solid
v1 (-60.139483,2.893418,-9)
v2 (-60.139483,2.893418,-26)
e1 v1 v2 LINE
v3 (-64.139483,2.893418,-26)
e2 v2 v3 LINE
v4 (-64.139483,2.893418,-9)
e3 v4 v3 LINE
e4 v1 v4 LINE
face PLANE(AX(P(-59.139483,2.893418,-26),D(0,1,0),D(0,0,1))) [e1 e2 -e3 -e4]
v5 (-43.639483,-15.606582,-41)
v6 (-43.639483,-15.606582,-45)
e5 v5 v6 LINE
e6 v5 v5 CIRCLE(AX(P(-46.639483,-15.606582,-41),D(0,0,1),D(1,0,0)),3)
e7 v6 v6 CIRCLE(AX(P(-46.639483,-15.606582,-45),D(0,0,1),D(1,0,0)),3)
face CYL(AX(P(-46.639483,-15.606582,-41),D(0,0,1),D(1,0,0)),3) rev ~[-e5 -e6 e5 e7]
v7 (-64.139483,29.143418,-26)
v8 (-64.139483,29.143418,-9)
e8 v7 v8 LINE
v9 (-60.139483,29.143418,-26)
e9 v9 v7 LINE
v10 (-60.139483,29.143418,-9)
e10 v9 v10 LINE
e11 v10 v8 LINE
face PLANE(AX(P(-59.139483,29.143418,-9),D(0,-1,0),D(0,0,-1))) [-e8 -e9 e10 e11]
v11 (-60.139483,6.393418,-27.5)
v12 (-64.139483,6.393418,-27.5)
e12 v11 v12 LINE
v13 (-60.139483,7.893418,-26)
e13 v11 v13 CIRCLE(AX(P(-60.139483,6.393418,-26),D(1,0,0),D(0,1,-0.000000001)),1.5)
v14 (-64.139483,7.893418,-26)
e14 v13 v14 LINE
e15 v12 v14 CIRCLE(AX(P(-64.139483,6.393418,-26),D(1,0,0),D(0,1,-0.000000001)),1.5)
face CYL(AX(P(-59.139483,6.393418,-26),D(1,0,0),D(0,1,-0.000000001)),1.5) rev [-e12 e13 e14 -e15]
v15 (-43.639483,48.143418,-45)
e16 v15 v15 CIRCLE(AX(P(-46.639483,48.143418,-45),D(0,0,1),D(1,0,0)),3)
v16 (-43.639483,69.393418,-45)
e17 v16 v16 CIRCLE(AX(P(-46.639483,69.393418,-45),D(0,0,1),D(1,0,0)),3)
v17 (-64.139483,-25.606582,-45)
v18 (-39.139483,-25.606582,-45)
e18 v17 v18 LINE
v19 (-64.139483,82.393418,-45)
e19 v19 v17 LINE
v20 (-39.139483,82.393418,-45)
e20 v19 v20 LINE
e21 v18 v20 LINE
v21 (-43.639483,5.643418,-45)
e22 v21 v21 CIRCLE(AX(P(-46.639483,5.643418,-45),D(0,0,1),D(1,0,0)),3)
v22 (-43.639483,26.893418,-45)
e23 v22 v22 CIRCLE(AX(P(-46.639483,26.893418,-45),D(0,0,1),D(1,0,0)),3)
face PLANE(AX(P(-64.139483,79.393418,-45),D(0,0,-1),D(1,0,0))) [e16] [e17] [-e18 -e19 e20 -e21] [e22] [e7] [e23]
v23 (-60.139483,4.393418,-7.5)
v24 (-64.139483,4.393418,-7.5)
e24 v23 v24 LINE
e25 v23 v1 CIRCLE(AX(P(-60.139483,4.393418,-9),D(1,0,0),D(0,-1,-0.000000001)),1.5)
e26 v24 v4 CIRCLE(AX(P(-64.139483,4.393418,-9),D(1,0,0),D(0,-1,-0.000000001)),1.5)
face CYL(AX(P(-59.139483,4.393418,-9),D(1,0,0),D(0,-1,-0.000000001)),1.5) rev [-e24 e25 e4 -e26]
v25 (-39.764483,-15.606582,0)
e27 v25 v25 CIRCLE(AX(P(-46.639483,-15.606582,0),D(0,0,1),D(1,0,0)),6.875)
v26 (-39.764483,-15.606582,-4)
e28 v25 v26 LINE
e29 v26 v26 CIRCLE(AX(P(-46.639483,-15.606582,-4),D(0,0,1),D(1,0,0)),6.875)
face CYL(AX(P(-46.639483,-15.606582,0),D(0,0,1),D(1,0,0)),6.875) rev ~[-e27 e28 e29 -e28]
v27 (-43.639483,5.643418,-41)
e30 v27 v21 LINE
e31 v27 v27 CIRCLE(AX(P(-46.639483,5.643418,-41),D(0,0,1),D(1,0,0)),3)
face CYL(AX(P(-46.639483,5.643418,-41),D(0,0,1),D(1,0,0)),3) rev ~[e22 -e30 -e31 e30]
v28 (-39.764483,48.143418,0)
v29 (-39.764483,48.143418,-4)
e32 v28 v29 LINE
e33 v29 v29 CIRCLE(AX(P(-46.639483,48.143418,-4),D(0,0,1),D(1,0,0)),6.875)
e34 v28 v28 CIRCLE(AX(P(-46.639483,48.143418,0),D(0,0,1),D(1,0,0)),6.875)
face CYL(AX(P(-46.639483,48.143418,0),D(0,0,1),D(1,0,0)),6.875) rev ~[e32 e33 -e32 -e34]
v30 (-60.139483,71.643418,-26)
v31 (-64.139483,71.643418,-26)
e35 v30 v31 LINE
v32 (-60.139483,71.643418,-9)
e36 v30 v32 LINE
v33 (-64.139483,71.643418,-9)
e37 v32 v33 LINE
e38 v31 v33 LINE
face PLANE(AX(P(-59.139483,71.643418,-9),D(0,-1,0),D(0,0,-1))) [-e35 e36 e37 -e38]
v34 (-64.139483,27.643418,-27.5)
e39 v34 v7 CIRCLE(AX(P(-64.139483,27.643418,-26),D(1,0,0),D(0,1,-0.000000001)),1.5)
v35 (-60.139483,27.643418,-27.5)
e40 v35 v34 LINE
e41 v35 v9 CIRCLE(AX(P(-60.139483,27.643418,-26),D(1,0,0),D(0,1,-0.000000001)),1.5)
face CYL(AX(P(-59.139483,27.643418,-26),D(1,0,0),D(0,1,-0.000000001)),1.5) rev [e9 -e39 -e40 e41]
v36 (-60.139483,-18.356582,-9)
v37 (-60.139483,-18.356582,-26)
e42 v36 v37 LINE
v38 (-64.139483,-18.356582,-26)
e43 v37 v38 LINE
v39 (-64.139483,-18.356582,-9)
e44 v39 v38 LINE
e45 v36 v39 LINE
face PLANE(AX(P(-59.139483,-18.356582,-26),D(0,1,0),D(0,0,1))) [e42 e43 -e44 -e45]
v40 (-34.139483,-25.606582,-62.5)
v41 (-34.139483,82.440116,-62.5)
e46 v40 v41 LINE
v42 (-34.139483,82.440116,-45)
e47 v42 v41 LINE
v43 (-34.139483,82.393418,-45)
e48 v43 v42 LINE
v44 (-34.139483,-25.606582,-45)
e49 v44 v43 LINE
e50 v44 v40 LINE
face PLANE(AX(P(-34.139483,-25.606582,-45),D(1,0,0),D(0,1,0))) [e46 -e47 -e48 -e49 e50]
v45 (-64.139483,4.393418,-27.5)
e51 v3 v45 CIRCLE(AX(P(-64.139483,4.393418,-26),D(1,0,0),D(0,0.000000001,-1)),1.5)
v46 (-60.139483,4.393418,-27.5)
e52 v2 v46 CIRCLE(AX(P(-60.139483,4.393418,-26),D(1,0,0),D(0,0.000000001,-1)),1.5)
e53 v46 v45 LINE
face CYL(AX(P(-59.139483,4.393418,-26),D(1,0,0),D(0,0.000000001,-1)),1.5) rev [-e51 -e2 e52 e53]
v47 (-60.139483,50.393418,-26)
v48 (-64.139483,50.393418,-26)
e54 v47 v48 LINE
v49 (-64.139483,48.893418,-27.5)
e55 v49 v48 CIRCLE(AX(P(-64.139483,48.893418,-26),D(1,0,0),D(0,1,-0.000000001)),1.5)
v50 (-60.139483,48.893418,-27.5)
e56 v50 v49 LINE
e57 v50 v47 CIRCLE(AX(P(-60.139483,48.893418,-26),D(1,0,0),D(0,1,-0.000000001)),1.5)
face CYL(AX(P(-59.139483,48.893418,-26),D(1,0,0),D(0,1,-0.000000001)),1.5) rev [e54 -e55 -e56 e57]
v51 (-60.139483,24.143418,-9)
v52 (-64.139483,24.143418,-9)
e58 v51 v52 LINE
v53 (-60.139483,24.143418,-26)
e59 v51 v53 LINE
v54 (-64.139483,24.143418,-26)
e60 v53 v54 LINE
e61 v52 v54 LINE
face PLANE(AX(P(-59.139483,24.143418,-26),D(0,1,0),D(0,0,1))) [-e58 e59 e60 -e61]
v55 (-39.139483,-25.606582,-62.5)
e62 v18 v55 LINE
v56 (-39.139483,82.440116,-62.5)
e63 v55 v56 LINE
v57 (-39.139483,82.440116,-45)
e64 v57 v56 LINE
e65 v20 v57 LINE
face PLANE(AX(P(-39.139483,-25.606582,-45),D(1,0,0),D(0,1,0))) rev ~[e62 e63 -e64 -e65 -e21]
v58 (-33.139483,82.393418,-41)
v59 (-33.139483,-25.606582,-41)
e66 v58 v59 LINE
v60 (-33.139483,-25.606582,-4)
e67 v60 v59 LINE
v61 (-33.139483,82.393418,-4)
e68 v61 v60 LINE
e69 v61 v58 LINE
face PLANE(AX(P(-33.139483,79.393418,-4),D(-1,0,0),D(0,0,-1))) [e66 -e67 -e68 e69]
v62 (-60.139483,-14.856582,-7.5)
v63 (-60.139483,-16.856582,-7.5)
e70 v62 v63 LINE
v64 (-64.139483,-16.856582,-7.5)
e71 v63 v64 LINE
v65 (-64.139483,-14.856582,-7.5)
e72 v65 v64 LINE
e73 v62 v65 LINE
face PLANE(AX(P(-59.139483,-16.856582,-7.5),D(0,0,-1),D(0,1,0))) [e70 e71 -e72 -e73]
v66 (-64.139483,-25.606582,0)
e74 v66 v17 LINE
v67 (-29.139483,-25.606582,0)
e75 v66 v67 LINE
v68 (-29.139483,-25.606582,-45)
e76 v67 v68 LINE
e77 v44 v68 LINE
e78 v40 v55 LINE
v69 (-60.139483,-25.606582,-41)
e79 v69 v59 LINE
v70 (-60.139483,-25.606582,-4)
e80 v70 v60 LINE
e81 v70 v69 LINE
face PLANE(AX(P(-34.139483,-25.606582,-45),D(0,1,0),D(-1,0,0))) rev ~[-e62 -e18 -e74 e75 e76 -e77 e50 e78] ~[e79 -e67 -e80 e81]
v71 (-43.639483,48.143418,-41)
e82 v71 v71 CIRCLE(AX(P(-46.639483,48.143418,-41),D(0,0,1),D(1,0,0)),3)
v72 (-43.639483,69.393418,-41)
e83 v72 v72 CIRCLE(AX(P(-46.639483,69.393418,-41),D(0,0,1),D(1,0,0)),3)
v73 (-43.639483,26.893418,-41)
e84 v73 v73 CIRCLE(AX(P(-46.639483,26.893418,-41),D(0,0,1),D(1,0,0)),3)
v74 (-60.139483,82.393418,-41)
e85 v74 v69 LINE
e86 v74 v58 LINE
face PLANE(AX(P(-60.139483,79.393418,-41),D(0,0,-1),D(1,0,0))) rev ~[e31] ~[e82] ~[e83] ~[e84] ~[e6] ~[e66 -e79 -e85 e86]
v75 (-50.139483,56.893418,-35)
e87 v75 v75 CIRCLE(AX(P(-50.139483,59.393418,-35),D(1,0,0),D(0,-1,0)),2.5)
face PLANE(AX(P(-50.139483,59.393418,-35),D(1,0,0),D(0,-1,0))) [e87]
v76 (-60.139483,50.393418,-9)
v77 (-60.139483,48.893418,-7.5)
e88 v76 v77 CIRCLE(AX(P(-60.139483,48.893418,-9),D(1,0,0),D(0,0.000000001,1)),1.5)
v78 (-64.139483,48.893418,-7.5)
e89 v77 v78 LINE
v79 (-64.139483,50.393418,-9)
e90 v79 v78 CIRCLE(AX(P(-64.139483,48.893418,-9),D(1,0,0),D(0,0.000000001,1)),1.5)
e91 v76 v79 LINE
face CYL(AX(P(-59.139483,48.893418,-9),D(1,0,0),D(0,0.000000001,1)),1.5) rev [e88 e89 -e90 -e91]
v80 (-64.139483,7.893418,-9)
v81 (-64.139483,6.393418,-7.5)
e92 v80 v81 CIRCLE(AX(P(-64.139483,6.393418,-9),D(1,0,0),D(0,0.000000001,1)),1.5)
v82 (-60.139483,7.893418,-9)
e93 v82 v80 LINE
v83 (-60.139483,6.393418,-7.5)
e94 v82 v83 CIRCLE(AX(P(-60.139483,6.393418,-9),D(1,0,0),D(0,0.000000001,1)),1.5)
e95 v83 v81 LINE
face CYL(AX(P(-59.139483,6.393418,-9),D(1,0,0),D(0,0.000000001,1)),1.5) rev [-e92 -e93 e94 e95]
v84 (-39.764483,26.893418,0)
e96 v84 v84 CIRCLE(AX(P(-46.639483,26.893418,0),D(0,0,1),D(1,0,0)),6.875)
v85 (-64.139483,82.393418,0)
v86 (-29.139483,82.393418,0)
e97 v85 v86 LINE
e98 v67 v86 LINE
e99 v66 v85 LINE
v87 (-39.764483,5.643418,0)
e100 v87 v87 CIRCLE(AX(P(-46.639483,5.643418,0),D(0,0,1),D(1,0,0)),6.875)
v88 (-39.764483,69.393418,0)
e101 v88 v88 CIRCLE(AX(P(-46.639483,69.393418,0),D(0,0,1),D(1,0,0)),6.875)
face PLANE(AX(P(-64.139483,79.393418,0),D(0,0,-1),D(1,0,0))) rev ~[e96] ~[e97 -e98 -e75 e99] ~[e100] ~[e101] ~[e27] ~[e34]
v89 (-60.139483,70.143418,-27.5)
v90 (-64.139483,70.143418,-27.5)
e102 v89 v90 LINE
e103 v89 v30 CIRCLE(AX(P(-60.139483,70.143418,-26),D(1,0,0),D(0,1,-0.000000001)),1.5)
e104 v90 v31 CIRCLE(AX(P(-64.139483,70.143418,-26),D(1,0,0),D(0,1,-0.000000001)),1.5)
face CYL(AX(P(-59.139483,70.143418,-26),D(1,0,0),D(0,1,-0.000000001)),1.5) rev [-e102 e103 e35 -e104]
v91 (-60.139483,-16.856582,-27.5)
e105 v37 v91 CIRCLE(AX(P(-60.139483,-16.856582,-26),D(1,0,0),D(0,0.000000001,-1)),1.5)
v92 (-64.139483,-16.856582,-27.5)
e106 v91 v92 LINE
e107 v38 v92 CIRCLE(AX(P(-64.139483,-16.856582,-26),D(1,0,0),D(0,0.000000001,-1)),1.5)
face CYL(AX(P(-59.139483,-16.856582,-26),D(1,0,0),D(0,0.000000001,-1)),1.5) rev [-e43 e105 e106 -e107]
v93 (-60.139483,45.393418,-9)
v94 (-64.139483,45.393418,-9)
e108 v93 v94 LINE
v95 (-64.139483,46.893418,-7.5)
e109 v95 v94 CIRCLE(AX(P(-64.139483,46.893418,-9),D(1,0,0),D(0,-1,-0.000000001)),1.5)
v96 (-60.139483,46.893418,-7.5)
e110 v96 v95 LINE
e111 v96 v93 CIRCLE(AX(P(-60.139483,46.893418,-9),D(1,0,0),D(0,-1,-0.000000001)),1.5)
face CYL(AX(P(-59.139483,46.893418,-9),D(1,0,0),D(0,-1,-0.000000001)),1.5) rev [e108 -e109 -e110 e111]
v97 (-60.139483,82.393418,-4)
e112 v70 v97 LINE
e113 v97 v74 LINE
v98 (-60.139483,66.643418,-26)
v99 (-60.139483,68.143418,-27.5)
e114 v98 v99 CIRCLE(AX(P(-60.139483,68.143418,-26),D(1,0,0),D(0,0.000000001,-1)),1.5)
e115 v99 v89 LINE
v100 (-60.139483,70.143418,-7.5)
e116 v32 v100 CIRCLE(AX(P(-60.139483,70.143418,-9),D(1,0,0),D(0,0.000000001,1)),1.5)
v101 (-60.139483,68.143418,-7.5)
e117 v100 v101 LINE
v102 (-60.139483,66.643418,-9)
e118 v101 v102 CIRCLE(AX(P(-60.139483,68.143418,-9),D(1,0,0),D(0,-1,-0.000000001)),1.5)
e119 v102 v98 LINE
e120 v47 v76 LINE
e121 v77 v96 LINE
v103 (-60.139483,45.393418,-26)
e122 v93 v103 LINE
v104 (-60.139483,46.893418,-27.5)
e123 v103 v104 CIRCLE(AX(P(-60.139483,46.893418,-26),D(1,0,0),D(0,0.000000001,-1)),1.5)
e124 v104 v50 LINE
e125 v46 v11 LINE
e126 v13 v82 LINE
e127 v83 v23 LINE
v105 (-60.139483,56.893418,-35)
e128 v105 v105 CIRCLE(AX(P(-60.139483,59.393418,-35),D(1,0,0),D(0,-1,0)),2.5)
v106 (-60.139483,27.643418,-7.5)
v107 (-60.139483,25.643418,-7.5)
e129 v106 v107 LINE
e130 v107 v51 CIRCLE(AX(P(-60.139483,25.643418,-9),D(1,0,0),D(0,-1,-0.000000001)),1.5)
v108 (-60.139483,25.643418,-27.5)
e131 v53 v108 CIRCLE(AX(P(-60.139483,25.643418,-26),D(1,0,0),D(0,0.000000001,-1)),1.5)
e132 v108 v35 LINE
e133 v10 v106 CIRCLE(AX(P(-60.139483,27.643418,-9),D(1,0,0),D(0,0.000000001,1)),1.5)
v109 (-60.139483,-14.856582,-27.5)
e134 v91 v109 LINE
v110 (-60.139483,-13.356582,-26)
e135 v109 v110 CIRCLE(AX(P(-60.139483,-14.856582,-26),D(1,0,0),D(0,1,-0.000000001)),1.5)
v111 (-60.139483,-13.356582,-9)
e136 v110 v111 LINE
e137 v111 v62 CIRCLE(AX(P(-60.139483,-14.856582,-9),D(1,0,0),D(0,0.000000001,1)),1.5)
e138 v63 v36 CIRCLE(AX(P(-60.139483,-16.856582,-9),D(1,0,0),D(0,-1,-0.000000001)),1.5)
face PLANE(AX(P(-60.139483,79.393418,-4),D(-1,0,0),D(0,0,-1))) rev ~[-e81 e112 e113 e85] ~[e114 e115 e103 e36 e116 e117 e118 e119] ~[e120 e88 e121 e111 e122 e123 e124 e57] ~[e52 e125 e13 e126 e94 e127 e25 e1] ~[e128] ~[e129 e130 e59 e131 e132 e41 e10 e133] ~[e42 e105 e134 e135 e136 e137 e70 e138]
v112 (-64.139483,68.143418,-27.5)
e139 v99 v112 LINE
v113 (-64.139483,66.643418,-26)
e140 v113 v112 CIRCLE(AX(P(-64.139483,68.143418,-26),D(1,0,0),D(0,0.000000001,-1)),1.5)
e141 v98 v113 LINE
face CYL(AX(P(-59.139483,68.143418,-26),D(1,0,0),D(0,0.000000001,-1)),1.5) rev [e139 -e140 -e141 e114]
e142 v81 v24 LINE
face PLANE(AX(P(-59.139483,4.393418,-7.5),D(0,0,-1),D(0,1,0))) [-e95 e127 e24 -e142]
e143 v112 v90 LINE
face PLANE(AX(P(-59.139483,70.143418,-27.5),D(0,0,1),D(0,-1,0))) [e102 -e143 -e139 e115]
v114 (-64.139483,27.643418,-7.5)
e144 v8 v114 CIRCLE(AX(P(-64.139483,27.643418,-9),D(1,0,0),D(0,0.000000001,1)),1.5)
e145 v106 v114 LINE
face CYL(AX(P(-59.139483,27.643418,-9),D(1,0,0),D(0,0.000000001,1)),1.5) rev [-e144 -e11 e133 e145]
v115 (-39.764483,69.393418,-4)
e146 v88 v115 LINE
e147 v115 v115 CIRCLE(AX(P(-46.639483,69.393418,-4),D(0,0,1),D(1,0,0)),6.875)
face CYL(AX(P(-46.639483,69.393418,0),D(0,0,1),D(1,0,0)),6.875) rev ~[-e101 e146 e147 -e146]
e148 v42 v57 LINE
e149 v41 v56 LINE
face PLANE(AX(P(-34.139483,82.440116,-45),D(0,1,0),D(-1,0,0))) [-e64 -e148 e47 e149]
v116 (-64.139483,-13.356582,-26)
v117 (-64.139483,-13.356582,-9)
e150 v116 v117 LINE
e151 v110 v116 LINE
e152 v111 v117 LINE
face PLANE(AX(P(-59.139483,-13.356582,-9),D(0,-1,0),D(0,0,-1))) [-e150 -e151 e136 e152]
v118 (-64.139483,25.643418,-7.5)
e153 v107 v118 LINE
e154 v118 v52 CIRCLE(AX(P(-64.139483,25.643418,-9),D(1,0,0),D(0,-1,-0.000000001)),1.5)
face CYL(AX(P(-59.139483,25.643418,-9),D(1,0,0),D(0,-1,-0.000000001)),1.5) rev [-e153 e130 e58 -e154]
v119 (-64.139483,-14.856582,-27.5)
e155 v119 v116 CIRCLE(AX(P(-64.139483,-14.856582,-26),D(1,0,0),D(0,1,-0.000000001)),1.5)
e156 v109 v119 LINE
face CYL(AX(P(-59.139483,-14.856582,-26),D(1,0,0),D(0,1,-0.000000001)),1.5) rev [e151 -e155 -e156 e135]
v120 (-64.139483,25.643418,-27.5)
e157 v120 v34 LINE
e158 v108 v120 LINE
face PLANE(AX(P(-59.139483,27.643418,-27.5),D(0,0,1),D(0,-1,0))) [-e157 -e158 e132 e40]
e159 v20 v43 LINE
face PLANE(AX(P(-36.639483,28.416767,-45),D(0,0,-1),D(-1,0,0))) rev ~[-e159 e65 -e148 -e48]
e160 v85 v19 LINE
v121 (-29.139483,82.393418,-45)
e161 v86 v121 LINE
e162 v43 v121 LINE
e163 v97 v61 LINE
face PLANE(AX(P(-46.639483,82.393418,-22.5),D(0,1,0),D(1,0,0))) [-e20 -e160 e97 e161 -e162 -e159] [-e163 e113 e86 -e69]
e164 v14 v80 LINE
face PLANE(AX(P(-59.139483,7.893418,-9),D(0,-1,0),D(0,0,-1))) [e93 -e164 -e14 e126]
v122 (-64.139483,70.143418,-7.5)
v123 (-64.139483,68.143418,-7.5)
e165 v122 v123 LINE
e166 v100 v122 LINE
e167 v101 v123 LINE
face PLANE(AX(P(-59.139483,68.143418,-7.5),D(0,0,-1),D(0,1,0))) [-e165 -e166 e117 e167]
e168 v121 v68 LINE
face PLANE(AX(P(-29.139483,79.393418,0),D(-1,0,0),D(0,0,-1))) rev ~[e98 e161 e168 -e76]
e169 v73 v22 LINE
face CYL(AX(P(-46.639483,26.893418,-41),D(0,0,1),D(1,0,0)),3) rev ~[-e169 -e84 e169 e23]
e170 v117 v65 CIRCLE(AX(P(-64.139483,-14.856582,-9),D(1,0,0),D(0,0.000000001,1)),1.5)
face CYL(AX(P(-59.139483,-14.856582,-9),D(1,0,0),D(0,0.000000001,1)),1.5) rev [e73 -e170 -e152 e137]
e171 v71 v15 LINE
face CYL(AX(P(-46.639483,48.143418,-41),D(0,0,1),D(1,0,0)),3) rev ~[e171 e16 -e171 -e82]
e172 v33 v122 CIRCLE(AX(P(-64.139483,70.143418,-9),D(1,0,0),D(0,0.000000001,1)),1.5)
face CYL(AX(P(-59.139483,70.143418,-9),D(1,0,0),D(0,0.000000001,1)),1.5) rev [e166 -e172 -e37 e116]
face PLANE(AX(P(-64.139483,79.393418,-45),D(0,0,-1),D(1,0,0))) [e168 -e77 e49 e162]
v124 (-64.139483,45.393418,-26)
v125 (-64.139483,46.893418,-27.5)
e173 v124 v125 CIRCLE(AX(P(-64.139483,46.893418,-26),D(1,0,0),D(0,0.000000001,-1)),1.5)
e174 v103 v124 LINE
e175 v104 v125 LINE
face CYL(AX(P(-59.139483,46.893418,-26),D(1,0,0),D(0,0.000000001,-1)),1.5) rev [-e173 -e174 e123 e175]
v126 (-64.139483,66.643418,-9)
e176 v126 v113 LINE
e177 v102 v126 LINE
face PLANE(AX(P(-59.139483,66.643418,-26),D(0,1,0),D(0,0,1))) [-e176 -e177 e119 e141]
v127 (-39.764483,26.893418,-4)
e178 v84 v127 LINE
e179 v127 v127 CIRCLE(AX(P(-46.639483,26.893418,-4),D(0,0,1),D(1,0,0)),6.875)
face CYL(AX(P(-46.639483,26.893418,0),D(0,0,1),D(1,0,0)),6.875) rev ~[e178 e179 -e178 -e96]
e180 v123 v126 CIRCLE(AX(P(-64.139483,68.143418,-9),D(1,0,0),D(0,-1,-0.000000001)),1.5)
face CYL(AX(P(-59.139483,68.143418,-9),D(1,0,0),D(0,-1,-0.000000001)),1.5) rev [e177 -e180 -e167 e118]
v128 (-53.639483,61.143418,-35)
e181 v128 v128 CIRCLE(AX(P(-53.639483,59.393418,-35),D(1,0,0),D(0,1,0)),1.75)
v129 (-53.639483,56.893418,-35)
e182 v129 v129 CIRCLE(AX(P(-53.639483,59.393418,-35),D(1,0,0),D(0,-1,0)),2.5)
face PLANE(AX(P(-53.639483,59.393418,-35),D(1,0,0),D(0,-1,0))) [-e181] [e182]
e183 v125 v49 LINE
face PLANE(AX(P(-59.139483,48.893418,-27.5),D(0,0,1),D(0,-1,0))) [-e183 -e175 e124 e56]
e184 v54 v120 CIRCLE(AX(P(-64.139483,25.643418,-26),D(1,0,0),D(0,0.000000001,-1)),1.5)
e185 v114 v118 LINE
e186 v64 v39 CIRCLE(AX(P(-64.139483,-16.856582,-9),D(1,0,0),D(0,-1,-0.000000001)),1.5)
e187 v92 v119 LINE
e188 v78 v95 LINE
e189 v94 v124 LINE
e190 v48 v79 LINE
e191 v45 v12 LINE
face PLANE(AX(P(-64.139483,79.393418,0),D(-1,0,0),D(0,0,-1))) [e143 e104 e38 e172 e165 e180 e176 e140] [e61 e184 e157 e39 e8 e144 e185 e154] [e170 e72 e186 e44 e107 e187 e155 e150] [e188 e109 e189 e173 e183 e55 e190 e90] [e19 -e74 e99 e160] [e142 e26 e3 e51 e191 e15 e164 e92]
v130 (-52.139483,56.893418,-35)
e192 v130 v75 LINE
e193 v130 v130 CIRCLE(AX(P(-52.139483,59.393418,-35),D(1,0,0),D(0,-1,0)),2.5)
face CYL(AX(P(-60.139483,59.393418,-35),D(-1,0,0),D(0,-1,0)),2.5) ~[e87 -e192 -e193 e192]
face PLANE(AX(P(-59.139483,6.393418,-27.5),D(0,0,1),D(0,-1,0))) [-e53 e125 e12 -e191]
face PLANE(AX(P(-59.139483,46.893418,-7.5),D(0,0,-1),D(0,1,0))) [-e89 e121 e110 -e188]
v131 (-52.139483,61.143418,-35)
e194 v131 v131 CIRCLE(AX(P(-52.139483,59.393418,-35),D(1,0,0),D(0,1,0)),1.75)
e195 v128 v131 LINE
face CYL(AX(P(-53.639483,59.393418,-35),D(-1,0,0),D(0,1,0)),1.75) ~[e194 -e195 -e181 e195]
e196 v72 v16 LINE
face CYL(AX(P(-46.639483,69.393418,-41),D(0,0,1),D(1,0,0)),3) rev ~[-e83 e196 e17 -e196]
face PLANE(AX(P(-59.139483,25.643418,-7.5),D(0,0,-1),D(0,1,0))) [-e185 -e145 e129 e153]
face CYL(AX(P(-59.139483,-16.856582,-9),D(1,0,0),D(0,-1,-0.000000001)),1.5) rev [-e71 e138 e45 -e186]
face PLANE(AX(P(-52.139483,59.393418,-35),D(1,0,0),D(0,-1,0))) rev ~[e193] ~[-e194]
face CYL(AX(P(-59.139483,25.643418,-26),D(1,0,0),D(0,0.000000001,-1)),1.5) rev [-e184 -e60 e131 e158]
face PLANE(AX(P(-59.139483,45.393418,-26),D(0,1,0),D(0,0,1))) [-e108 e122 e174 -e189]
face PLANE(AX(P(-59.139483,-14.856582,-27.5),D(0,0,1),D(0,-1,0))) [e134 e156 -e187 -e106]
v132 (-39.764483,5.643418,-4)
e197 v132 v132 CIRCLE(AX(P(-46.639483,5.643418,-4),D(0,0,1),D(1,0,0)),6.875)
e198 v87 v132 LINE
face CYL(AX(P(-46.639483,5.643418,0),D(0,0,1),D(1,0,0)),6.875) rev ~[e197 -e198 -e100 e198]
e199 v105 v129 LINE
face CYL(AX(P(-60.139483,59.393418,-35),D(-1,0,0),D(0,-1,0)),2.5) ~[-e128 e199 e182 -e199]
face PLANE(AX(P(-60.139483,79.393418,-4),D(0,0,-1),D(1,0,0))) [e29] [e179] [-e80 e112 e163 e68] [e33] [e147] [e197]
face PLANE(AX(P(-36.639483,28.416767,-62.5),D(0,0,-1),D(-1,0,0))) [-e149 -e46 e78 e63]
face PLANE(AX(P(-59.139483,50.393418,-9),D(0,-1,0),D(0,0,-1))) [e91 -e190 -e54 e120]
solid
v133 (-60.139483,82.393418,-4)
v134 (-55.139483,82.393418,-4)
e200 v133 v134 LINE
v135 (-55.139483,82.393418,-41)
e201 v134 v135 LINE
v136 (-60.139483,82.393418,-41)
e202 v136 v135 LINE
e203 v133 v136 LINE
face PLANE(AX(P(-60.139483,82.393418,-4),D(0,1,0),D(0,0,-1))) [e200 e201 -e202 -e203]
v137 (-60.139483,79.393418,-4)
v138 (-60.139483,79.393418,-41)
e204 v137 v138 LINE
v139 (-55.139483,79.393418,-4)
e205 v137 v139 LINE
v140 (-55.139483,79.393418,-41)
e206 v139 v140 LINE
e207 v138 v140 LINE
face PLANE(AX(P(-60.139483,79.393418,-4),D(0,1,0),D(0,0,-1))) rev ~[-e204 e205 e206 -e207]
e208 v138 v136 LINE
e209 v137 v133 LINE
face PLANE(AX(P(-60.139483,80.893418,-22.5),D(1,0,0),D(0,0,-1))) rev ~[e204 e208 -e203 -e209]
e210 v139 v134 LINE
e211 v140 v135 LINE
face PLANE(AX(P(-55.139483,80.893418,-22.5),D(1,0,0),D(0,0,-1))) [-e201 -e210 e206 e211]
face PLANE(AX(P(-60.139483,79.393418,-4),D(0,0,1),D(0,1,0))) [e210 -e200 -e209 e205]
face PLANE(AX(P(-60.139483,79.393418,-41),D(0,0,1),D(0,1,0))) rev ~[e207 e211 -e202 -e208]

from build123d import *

# Parameters (mm, degrees)
SKETCH2_W           = 35
SKETCH2_H           = 105
BOSS_EXTRUDE1_DEPTH = 45
CUT_EXTRUDE1_REACH  = 133.011
SKETCH3_W           = 27
SKETCH3_H           = 37
SKETCH4_R           = 6.875
CUT_EXTRUDE2_DEPTH  = 10
SKETCH14_R          = 2.5
BOSS_EXTRUDE2_DEPTH = 10
CUT_EXTRUDE7_START  = -3.5
SKETCH15_R          = 2.5
SKETCH15_R_2        = 1.75
CUT_EXTRUDE7_DEPTH  = 1.5
SKETCH16_W          = 37
SKETCH16_H          = 3
BOSS_EXTRUDE4_DEPTH = 5
SKETCH17_W          = 35
SKETCH17_H          = 45
SKETCH17_W_2        = 27
SKETCH17_H_2        = 37
BOSS_EXTRUDE5_DEPTH = 3
SKETCH18_R          = 3
CUT_EXTRUDE8_DEPTH  = 10
CUT_EXTRUDE9_START  = -30
CUT_EXTRUDE9_DEPTH  = 10
SKETCH19_W          = 5
SKETCH19_H          = 108.046697757
BOSS_EXTRUDE6_DEPTH = 17.5


with BuildPart() as part:
    # Sketch2 → Boss-Extrude1 (new body)
    with BuildSketch(Plane.XY):
        with Locations((-46.639483312, 26.893418081)):
            Rectangle(SKETCH2_W, SKETCH2_H)
    extrude(amount=-BOSS_EXTRUDE1_DEPTH)

    # Sketch3 → Cut-Extrude1 (cut, up to next)
    with BuildSketch(Plane(origin=(0, 79.393418081, 0), x_dir=(1, 0, 0), z_dir=(0, 1, 0)), mode=Mode.PRIVATE) as cut_extrude1_sk1:
        with Locations((-46.639483312, 22.5)):
            Rectangle(SKETCH3_W, SKETCH3_H)
    cut_extrude1_tool1 = extrude(cut_extrude1_sk1.sketch, amount=-CUT_EXTRUDE1_REACH, mode=Mode.PRIVATE) & part.part
    add(cut_extrude1_tool1.solids().sort_by_distance((-46.639483, 79.393418, -22.5))[0], mode=Mode.SUBTRACT)

    # Sketch4 → Cut-Extrude2 (cut)
    with BuildSketch(Plane.XY):
        with Locations((-46.639483312, 69.393418081)):
            Circle(SKETCH4_R)
        with Locations((-46.639483312, 48.143418081)):
            Circle(SKETCH4_R)
        with Locations((-46.639483312, 26.893418081)):
            Circle(SKETCH4_R)
        with Locations((-46.639483312, 5.643418081)):
            Circle(SKETCH4_R)
        with Locations((-46.639483312, -15.606581919)):
            Circle(SKETCH4_R)
    extrude(amount=-CUT_EXTRUDE2_DEPTH, mode=Mode.SUBTRACT)

    # Sketch14 → Boss-Extrude2 (add)
    with BuildSketch(Plane(origin=(-60.139483312, 0, 0), x_dir=(0, 0, -1), z_dir=(1, 0, 0))):
        with Locations(Location((35, 59.393418081, 0), (0, 0, 270))):
            Circle(SKETCH14_R)
    extrude(amount=BOSS_EXTRUDE2_DEPTH)

    # Sketch15 → Cut-Extrude7 (cut)
    with BuildSketch(Plane(origin=(-50.139483312, 0, 0), x_dir=(0, 0, -1), z_dir=(1, 0, 0)).offset(CUT_EXTRUDE7_START)):
        with Locations(Location((35, 59.393418081, 0), (0, 0, 270))):
            Circle(SKETCH15_R)
        with Locations(Location((35, 59.393418081, 0), (0, 0, 90))):
            Circle(SKETCH15_R_2, mode=Mode.SUBTRACT)
    extrude(amount=CUT_EXTRUDE7_DEPTH, mode=Mode.SUBTRACT)

    # Sketch17 → Boss-Extrude5 (add)
    with BuildSketch(Plane(origin=(0, 79.393418081, 0), x_dir=(1, 0, 0), z_dir=(0, 1, 0))):
        with Locations((-46.639483312, 22.5)):
            Rectangle(SKETCH17_W, SKETCH17_H)
        with Locations((-46.639483312, 22.5)):
            Rectangle(SKETCH17_W_2, SKETCH17_H_2, mode=Mode.SUBTRACT)
    extrude(amount=BOSS_EXTRUDE5_DEPTH)

    # Sketch18 → Cut-Extrude8 (cut)
    with BuildSketch(Plane.XY.offset(-41)):
        with Locations((-46.639483312, 69.393418081)):
            Circle(SKETCH18_R)
        with Locations((-46.639483312, 48.143418081)):
            Circle(SKETCH18_R)
        with Locations((-46.639483312, 26.893418081)):
            Circle(SKETCH18_R)
        with Locations((-46.639483312, 5.643418081)):
            Circle(SKETCH18_R)
        with Locations((-46.639483312, -15.606581919)):
            Circle(SKETCH18_R)
    extrude(amount=-CUT_EXTRUDE8_DEPTH, mode=Mode.SUBTRACT)

    # Sketch12 → Cut-Extrude9 (cut)
    with BuildSketch(Plane(origin=(-29.139483312, 0, 0), x_dir=(0, 0, -1), z_dir=(1, 0, 0)).offset(CUT_EXTRUDE9_START)):
        with BuildLine():
            Line((9, 7.893418081), (26, 7.893418081))
            ThreePointArc((26, 7.893418081), (27.060660172, 7.454078252), (27.5, 6.393418081))
            Line((27.5, 6.393418081), (27.5, 4.393418081))
            ThreePointArc((27.5, 4.393418081), (27.060660172, 3.332757909), (26, 2.893418081))
            Line((26, 2.893418081), (9, 2.893418081))
            ThreePointArc((9, 2.893418081), (7.939339828, 3.332757909), (7.5, 4.393418081))
            Line((7.5, 4.393418081), (7.5, 6.393418081))
            ThreePointArc((7.5, 6.393418081), (7.939339828, 7.454078252), (9, 7.893418081))
        make_face()
        with BuildLine():
            Line((9, 29.143418081), (26, 29.143418081))
            ThreePointArc((26, 29.143418081), (27.060660172, 28.704078252), (27.5, 27.643418081))
            Line((27.5, 27.643418081), (27.5, 25.643418081))
            ThreePointArc((27.5, 25.643418081), (27.060660172, 24.582757909), (26, 24.143418081))
            Line((26, 24.143418081), (9, 24.143418081))
            ThreePointArc((9, 24.143418081), (7.939339828, 24.582757909), (7.5, 25.643418081))
            Line((7.5, 25.643418081), (7.5, 27.643418081))
            ThreePointArc((7.5, 27.643418081), (7.939339828, 28.704078252), (9, 29.143418081))
        make_face()
        with BuildLine():
            Line((9, 50.393418081), (26, 50.393418081))
            ThreePointArc((26, 50.393418081), (27.060660172, 49.954078252), (27.5, 48.893418081))
            Line((27.5, 48.893418081), (27.5, 46.893418081))
            ThreePointArc((27.5, 46.893418081), (27.060660172, 45.832757909), (26, 45.393418081))
            Line((26, 45.393418081), (9, 45.393418081))
            ThreePointArc((9, 45.393418081), (7.939339828, 45.832757909), (7.5, 46.893418081))
            Line((7.5, 46.893418081), (7.5, 48.893418081))
            ThreePointArc((7.5, 48.893418081), (7.939339828, 49.954078252), (9, 50.393418081))
        make_face()
        with BuildLine():
            Line((9, 71.643418081), (26, 71.643418081))
            ThreePointArc((26, 71.643418081), (27.060660172, 71.204078252), (27.5, 70.143418081))
            Line((27.5, 70.143418081), (27.5, 68.143418081))
            ThreePointArc((27.5, 68.143418081), (27.060660172, 67.082757909), (26, 66.643418081))
            Line((26, 66.643418081), (9, 66.643418081))
            ThreePointArc((9, 66.643418081), (7.939339828, 67.082757909), (7.5, 68.143418081))
            Line((7.5, 68.143418081), (7.5, 70.143418081))
            ThreePointArc((7.5, 70.143418081), (7.939339828, 71.204078252), (9, 71.643418081))
        make_face()
        with BuildLine():
            Line((9, -13.356581919), (26, -13.356581919))
            ThreePointArc((26, -13.356581919), (27.060660172, -13.795921748), (27.5, -14.856581919))
            Line((27.5, -14.856581919), (27.5, -16.856581919))
            ThreePointArc((27.5, -16.856581919), (27.060660172, -17.917242091), (26, -18.356581919))
            Line((26, -18.356581919), (9, -18.356581919))
            ThreePointArc((9, -18.356581919), (7.939339828, -17.917242091), (7.5, -16.856581919))
            Line((7.5, -16.856581919), (7.5, -14.856581919))
            ThreePointArc((7.5, -14.856581919), (7.939339828, -13.795921748), (9, -13.356581919))
        make_face()
    extrude(amount=-CUT_EXTRUDE9_DEPTH, mode=Mode.SUBTRACT)

    # Sketch19 → Boss-Extrude6 (add)
    with BuildSketch(Plane(origin=(0, 0, -45), x_dir=(-1, 0, 0), z_dir=(0, 0, -1))):
        with Locations((36.639483312, 28.41676696)):
            Rectangle(SKETCH19_W, SKETCH19_H)
    extrude(amount=BOSS_EXTRUDE6_DEPTH)


with BuildPart() as body_2:
    # Sketch16 → Boss-Extrude4 (new body)
    with BuildSketch(Plane(origin=(-60.139483312, 0, 0), x_dir=(0, 0, -1), z_dir=(1, 0, 0))):
        with Locations((22.5, 80.893418081)):
            Rectangle(SKETCH16_W, SKETCH16_H)
    extrude(amount=BOSS_EXTRUDE4_DEPTH)


solid = Compound([part.part, body_2.part])
